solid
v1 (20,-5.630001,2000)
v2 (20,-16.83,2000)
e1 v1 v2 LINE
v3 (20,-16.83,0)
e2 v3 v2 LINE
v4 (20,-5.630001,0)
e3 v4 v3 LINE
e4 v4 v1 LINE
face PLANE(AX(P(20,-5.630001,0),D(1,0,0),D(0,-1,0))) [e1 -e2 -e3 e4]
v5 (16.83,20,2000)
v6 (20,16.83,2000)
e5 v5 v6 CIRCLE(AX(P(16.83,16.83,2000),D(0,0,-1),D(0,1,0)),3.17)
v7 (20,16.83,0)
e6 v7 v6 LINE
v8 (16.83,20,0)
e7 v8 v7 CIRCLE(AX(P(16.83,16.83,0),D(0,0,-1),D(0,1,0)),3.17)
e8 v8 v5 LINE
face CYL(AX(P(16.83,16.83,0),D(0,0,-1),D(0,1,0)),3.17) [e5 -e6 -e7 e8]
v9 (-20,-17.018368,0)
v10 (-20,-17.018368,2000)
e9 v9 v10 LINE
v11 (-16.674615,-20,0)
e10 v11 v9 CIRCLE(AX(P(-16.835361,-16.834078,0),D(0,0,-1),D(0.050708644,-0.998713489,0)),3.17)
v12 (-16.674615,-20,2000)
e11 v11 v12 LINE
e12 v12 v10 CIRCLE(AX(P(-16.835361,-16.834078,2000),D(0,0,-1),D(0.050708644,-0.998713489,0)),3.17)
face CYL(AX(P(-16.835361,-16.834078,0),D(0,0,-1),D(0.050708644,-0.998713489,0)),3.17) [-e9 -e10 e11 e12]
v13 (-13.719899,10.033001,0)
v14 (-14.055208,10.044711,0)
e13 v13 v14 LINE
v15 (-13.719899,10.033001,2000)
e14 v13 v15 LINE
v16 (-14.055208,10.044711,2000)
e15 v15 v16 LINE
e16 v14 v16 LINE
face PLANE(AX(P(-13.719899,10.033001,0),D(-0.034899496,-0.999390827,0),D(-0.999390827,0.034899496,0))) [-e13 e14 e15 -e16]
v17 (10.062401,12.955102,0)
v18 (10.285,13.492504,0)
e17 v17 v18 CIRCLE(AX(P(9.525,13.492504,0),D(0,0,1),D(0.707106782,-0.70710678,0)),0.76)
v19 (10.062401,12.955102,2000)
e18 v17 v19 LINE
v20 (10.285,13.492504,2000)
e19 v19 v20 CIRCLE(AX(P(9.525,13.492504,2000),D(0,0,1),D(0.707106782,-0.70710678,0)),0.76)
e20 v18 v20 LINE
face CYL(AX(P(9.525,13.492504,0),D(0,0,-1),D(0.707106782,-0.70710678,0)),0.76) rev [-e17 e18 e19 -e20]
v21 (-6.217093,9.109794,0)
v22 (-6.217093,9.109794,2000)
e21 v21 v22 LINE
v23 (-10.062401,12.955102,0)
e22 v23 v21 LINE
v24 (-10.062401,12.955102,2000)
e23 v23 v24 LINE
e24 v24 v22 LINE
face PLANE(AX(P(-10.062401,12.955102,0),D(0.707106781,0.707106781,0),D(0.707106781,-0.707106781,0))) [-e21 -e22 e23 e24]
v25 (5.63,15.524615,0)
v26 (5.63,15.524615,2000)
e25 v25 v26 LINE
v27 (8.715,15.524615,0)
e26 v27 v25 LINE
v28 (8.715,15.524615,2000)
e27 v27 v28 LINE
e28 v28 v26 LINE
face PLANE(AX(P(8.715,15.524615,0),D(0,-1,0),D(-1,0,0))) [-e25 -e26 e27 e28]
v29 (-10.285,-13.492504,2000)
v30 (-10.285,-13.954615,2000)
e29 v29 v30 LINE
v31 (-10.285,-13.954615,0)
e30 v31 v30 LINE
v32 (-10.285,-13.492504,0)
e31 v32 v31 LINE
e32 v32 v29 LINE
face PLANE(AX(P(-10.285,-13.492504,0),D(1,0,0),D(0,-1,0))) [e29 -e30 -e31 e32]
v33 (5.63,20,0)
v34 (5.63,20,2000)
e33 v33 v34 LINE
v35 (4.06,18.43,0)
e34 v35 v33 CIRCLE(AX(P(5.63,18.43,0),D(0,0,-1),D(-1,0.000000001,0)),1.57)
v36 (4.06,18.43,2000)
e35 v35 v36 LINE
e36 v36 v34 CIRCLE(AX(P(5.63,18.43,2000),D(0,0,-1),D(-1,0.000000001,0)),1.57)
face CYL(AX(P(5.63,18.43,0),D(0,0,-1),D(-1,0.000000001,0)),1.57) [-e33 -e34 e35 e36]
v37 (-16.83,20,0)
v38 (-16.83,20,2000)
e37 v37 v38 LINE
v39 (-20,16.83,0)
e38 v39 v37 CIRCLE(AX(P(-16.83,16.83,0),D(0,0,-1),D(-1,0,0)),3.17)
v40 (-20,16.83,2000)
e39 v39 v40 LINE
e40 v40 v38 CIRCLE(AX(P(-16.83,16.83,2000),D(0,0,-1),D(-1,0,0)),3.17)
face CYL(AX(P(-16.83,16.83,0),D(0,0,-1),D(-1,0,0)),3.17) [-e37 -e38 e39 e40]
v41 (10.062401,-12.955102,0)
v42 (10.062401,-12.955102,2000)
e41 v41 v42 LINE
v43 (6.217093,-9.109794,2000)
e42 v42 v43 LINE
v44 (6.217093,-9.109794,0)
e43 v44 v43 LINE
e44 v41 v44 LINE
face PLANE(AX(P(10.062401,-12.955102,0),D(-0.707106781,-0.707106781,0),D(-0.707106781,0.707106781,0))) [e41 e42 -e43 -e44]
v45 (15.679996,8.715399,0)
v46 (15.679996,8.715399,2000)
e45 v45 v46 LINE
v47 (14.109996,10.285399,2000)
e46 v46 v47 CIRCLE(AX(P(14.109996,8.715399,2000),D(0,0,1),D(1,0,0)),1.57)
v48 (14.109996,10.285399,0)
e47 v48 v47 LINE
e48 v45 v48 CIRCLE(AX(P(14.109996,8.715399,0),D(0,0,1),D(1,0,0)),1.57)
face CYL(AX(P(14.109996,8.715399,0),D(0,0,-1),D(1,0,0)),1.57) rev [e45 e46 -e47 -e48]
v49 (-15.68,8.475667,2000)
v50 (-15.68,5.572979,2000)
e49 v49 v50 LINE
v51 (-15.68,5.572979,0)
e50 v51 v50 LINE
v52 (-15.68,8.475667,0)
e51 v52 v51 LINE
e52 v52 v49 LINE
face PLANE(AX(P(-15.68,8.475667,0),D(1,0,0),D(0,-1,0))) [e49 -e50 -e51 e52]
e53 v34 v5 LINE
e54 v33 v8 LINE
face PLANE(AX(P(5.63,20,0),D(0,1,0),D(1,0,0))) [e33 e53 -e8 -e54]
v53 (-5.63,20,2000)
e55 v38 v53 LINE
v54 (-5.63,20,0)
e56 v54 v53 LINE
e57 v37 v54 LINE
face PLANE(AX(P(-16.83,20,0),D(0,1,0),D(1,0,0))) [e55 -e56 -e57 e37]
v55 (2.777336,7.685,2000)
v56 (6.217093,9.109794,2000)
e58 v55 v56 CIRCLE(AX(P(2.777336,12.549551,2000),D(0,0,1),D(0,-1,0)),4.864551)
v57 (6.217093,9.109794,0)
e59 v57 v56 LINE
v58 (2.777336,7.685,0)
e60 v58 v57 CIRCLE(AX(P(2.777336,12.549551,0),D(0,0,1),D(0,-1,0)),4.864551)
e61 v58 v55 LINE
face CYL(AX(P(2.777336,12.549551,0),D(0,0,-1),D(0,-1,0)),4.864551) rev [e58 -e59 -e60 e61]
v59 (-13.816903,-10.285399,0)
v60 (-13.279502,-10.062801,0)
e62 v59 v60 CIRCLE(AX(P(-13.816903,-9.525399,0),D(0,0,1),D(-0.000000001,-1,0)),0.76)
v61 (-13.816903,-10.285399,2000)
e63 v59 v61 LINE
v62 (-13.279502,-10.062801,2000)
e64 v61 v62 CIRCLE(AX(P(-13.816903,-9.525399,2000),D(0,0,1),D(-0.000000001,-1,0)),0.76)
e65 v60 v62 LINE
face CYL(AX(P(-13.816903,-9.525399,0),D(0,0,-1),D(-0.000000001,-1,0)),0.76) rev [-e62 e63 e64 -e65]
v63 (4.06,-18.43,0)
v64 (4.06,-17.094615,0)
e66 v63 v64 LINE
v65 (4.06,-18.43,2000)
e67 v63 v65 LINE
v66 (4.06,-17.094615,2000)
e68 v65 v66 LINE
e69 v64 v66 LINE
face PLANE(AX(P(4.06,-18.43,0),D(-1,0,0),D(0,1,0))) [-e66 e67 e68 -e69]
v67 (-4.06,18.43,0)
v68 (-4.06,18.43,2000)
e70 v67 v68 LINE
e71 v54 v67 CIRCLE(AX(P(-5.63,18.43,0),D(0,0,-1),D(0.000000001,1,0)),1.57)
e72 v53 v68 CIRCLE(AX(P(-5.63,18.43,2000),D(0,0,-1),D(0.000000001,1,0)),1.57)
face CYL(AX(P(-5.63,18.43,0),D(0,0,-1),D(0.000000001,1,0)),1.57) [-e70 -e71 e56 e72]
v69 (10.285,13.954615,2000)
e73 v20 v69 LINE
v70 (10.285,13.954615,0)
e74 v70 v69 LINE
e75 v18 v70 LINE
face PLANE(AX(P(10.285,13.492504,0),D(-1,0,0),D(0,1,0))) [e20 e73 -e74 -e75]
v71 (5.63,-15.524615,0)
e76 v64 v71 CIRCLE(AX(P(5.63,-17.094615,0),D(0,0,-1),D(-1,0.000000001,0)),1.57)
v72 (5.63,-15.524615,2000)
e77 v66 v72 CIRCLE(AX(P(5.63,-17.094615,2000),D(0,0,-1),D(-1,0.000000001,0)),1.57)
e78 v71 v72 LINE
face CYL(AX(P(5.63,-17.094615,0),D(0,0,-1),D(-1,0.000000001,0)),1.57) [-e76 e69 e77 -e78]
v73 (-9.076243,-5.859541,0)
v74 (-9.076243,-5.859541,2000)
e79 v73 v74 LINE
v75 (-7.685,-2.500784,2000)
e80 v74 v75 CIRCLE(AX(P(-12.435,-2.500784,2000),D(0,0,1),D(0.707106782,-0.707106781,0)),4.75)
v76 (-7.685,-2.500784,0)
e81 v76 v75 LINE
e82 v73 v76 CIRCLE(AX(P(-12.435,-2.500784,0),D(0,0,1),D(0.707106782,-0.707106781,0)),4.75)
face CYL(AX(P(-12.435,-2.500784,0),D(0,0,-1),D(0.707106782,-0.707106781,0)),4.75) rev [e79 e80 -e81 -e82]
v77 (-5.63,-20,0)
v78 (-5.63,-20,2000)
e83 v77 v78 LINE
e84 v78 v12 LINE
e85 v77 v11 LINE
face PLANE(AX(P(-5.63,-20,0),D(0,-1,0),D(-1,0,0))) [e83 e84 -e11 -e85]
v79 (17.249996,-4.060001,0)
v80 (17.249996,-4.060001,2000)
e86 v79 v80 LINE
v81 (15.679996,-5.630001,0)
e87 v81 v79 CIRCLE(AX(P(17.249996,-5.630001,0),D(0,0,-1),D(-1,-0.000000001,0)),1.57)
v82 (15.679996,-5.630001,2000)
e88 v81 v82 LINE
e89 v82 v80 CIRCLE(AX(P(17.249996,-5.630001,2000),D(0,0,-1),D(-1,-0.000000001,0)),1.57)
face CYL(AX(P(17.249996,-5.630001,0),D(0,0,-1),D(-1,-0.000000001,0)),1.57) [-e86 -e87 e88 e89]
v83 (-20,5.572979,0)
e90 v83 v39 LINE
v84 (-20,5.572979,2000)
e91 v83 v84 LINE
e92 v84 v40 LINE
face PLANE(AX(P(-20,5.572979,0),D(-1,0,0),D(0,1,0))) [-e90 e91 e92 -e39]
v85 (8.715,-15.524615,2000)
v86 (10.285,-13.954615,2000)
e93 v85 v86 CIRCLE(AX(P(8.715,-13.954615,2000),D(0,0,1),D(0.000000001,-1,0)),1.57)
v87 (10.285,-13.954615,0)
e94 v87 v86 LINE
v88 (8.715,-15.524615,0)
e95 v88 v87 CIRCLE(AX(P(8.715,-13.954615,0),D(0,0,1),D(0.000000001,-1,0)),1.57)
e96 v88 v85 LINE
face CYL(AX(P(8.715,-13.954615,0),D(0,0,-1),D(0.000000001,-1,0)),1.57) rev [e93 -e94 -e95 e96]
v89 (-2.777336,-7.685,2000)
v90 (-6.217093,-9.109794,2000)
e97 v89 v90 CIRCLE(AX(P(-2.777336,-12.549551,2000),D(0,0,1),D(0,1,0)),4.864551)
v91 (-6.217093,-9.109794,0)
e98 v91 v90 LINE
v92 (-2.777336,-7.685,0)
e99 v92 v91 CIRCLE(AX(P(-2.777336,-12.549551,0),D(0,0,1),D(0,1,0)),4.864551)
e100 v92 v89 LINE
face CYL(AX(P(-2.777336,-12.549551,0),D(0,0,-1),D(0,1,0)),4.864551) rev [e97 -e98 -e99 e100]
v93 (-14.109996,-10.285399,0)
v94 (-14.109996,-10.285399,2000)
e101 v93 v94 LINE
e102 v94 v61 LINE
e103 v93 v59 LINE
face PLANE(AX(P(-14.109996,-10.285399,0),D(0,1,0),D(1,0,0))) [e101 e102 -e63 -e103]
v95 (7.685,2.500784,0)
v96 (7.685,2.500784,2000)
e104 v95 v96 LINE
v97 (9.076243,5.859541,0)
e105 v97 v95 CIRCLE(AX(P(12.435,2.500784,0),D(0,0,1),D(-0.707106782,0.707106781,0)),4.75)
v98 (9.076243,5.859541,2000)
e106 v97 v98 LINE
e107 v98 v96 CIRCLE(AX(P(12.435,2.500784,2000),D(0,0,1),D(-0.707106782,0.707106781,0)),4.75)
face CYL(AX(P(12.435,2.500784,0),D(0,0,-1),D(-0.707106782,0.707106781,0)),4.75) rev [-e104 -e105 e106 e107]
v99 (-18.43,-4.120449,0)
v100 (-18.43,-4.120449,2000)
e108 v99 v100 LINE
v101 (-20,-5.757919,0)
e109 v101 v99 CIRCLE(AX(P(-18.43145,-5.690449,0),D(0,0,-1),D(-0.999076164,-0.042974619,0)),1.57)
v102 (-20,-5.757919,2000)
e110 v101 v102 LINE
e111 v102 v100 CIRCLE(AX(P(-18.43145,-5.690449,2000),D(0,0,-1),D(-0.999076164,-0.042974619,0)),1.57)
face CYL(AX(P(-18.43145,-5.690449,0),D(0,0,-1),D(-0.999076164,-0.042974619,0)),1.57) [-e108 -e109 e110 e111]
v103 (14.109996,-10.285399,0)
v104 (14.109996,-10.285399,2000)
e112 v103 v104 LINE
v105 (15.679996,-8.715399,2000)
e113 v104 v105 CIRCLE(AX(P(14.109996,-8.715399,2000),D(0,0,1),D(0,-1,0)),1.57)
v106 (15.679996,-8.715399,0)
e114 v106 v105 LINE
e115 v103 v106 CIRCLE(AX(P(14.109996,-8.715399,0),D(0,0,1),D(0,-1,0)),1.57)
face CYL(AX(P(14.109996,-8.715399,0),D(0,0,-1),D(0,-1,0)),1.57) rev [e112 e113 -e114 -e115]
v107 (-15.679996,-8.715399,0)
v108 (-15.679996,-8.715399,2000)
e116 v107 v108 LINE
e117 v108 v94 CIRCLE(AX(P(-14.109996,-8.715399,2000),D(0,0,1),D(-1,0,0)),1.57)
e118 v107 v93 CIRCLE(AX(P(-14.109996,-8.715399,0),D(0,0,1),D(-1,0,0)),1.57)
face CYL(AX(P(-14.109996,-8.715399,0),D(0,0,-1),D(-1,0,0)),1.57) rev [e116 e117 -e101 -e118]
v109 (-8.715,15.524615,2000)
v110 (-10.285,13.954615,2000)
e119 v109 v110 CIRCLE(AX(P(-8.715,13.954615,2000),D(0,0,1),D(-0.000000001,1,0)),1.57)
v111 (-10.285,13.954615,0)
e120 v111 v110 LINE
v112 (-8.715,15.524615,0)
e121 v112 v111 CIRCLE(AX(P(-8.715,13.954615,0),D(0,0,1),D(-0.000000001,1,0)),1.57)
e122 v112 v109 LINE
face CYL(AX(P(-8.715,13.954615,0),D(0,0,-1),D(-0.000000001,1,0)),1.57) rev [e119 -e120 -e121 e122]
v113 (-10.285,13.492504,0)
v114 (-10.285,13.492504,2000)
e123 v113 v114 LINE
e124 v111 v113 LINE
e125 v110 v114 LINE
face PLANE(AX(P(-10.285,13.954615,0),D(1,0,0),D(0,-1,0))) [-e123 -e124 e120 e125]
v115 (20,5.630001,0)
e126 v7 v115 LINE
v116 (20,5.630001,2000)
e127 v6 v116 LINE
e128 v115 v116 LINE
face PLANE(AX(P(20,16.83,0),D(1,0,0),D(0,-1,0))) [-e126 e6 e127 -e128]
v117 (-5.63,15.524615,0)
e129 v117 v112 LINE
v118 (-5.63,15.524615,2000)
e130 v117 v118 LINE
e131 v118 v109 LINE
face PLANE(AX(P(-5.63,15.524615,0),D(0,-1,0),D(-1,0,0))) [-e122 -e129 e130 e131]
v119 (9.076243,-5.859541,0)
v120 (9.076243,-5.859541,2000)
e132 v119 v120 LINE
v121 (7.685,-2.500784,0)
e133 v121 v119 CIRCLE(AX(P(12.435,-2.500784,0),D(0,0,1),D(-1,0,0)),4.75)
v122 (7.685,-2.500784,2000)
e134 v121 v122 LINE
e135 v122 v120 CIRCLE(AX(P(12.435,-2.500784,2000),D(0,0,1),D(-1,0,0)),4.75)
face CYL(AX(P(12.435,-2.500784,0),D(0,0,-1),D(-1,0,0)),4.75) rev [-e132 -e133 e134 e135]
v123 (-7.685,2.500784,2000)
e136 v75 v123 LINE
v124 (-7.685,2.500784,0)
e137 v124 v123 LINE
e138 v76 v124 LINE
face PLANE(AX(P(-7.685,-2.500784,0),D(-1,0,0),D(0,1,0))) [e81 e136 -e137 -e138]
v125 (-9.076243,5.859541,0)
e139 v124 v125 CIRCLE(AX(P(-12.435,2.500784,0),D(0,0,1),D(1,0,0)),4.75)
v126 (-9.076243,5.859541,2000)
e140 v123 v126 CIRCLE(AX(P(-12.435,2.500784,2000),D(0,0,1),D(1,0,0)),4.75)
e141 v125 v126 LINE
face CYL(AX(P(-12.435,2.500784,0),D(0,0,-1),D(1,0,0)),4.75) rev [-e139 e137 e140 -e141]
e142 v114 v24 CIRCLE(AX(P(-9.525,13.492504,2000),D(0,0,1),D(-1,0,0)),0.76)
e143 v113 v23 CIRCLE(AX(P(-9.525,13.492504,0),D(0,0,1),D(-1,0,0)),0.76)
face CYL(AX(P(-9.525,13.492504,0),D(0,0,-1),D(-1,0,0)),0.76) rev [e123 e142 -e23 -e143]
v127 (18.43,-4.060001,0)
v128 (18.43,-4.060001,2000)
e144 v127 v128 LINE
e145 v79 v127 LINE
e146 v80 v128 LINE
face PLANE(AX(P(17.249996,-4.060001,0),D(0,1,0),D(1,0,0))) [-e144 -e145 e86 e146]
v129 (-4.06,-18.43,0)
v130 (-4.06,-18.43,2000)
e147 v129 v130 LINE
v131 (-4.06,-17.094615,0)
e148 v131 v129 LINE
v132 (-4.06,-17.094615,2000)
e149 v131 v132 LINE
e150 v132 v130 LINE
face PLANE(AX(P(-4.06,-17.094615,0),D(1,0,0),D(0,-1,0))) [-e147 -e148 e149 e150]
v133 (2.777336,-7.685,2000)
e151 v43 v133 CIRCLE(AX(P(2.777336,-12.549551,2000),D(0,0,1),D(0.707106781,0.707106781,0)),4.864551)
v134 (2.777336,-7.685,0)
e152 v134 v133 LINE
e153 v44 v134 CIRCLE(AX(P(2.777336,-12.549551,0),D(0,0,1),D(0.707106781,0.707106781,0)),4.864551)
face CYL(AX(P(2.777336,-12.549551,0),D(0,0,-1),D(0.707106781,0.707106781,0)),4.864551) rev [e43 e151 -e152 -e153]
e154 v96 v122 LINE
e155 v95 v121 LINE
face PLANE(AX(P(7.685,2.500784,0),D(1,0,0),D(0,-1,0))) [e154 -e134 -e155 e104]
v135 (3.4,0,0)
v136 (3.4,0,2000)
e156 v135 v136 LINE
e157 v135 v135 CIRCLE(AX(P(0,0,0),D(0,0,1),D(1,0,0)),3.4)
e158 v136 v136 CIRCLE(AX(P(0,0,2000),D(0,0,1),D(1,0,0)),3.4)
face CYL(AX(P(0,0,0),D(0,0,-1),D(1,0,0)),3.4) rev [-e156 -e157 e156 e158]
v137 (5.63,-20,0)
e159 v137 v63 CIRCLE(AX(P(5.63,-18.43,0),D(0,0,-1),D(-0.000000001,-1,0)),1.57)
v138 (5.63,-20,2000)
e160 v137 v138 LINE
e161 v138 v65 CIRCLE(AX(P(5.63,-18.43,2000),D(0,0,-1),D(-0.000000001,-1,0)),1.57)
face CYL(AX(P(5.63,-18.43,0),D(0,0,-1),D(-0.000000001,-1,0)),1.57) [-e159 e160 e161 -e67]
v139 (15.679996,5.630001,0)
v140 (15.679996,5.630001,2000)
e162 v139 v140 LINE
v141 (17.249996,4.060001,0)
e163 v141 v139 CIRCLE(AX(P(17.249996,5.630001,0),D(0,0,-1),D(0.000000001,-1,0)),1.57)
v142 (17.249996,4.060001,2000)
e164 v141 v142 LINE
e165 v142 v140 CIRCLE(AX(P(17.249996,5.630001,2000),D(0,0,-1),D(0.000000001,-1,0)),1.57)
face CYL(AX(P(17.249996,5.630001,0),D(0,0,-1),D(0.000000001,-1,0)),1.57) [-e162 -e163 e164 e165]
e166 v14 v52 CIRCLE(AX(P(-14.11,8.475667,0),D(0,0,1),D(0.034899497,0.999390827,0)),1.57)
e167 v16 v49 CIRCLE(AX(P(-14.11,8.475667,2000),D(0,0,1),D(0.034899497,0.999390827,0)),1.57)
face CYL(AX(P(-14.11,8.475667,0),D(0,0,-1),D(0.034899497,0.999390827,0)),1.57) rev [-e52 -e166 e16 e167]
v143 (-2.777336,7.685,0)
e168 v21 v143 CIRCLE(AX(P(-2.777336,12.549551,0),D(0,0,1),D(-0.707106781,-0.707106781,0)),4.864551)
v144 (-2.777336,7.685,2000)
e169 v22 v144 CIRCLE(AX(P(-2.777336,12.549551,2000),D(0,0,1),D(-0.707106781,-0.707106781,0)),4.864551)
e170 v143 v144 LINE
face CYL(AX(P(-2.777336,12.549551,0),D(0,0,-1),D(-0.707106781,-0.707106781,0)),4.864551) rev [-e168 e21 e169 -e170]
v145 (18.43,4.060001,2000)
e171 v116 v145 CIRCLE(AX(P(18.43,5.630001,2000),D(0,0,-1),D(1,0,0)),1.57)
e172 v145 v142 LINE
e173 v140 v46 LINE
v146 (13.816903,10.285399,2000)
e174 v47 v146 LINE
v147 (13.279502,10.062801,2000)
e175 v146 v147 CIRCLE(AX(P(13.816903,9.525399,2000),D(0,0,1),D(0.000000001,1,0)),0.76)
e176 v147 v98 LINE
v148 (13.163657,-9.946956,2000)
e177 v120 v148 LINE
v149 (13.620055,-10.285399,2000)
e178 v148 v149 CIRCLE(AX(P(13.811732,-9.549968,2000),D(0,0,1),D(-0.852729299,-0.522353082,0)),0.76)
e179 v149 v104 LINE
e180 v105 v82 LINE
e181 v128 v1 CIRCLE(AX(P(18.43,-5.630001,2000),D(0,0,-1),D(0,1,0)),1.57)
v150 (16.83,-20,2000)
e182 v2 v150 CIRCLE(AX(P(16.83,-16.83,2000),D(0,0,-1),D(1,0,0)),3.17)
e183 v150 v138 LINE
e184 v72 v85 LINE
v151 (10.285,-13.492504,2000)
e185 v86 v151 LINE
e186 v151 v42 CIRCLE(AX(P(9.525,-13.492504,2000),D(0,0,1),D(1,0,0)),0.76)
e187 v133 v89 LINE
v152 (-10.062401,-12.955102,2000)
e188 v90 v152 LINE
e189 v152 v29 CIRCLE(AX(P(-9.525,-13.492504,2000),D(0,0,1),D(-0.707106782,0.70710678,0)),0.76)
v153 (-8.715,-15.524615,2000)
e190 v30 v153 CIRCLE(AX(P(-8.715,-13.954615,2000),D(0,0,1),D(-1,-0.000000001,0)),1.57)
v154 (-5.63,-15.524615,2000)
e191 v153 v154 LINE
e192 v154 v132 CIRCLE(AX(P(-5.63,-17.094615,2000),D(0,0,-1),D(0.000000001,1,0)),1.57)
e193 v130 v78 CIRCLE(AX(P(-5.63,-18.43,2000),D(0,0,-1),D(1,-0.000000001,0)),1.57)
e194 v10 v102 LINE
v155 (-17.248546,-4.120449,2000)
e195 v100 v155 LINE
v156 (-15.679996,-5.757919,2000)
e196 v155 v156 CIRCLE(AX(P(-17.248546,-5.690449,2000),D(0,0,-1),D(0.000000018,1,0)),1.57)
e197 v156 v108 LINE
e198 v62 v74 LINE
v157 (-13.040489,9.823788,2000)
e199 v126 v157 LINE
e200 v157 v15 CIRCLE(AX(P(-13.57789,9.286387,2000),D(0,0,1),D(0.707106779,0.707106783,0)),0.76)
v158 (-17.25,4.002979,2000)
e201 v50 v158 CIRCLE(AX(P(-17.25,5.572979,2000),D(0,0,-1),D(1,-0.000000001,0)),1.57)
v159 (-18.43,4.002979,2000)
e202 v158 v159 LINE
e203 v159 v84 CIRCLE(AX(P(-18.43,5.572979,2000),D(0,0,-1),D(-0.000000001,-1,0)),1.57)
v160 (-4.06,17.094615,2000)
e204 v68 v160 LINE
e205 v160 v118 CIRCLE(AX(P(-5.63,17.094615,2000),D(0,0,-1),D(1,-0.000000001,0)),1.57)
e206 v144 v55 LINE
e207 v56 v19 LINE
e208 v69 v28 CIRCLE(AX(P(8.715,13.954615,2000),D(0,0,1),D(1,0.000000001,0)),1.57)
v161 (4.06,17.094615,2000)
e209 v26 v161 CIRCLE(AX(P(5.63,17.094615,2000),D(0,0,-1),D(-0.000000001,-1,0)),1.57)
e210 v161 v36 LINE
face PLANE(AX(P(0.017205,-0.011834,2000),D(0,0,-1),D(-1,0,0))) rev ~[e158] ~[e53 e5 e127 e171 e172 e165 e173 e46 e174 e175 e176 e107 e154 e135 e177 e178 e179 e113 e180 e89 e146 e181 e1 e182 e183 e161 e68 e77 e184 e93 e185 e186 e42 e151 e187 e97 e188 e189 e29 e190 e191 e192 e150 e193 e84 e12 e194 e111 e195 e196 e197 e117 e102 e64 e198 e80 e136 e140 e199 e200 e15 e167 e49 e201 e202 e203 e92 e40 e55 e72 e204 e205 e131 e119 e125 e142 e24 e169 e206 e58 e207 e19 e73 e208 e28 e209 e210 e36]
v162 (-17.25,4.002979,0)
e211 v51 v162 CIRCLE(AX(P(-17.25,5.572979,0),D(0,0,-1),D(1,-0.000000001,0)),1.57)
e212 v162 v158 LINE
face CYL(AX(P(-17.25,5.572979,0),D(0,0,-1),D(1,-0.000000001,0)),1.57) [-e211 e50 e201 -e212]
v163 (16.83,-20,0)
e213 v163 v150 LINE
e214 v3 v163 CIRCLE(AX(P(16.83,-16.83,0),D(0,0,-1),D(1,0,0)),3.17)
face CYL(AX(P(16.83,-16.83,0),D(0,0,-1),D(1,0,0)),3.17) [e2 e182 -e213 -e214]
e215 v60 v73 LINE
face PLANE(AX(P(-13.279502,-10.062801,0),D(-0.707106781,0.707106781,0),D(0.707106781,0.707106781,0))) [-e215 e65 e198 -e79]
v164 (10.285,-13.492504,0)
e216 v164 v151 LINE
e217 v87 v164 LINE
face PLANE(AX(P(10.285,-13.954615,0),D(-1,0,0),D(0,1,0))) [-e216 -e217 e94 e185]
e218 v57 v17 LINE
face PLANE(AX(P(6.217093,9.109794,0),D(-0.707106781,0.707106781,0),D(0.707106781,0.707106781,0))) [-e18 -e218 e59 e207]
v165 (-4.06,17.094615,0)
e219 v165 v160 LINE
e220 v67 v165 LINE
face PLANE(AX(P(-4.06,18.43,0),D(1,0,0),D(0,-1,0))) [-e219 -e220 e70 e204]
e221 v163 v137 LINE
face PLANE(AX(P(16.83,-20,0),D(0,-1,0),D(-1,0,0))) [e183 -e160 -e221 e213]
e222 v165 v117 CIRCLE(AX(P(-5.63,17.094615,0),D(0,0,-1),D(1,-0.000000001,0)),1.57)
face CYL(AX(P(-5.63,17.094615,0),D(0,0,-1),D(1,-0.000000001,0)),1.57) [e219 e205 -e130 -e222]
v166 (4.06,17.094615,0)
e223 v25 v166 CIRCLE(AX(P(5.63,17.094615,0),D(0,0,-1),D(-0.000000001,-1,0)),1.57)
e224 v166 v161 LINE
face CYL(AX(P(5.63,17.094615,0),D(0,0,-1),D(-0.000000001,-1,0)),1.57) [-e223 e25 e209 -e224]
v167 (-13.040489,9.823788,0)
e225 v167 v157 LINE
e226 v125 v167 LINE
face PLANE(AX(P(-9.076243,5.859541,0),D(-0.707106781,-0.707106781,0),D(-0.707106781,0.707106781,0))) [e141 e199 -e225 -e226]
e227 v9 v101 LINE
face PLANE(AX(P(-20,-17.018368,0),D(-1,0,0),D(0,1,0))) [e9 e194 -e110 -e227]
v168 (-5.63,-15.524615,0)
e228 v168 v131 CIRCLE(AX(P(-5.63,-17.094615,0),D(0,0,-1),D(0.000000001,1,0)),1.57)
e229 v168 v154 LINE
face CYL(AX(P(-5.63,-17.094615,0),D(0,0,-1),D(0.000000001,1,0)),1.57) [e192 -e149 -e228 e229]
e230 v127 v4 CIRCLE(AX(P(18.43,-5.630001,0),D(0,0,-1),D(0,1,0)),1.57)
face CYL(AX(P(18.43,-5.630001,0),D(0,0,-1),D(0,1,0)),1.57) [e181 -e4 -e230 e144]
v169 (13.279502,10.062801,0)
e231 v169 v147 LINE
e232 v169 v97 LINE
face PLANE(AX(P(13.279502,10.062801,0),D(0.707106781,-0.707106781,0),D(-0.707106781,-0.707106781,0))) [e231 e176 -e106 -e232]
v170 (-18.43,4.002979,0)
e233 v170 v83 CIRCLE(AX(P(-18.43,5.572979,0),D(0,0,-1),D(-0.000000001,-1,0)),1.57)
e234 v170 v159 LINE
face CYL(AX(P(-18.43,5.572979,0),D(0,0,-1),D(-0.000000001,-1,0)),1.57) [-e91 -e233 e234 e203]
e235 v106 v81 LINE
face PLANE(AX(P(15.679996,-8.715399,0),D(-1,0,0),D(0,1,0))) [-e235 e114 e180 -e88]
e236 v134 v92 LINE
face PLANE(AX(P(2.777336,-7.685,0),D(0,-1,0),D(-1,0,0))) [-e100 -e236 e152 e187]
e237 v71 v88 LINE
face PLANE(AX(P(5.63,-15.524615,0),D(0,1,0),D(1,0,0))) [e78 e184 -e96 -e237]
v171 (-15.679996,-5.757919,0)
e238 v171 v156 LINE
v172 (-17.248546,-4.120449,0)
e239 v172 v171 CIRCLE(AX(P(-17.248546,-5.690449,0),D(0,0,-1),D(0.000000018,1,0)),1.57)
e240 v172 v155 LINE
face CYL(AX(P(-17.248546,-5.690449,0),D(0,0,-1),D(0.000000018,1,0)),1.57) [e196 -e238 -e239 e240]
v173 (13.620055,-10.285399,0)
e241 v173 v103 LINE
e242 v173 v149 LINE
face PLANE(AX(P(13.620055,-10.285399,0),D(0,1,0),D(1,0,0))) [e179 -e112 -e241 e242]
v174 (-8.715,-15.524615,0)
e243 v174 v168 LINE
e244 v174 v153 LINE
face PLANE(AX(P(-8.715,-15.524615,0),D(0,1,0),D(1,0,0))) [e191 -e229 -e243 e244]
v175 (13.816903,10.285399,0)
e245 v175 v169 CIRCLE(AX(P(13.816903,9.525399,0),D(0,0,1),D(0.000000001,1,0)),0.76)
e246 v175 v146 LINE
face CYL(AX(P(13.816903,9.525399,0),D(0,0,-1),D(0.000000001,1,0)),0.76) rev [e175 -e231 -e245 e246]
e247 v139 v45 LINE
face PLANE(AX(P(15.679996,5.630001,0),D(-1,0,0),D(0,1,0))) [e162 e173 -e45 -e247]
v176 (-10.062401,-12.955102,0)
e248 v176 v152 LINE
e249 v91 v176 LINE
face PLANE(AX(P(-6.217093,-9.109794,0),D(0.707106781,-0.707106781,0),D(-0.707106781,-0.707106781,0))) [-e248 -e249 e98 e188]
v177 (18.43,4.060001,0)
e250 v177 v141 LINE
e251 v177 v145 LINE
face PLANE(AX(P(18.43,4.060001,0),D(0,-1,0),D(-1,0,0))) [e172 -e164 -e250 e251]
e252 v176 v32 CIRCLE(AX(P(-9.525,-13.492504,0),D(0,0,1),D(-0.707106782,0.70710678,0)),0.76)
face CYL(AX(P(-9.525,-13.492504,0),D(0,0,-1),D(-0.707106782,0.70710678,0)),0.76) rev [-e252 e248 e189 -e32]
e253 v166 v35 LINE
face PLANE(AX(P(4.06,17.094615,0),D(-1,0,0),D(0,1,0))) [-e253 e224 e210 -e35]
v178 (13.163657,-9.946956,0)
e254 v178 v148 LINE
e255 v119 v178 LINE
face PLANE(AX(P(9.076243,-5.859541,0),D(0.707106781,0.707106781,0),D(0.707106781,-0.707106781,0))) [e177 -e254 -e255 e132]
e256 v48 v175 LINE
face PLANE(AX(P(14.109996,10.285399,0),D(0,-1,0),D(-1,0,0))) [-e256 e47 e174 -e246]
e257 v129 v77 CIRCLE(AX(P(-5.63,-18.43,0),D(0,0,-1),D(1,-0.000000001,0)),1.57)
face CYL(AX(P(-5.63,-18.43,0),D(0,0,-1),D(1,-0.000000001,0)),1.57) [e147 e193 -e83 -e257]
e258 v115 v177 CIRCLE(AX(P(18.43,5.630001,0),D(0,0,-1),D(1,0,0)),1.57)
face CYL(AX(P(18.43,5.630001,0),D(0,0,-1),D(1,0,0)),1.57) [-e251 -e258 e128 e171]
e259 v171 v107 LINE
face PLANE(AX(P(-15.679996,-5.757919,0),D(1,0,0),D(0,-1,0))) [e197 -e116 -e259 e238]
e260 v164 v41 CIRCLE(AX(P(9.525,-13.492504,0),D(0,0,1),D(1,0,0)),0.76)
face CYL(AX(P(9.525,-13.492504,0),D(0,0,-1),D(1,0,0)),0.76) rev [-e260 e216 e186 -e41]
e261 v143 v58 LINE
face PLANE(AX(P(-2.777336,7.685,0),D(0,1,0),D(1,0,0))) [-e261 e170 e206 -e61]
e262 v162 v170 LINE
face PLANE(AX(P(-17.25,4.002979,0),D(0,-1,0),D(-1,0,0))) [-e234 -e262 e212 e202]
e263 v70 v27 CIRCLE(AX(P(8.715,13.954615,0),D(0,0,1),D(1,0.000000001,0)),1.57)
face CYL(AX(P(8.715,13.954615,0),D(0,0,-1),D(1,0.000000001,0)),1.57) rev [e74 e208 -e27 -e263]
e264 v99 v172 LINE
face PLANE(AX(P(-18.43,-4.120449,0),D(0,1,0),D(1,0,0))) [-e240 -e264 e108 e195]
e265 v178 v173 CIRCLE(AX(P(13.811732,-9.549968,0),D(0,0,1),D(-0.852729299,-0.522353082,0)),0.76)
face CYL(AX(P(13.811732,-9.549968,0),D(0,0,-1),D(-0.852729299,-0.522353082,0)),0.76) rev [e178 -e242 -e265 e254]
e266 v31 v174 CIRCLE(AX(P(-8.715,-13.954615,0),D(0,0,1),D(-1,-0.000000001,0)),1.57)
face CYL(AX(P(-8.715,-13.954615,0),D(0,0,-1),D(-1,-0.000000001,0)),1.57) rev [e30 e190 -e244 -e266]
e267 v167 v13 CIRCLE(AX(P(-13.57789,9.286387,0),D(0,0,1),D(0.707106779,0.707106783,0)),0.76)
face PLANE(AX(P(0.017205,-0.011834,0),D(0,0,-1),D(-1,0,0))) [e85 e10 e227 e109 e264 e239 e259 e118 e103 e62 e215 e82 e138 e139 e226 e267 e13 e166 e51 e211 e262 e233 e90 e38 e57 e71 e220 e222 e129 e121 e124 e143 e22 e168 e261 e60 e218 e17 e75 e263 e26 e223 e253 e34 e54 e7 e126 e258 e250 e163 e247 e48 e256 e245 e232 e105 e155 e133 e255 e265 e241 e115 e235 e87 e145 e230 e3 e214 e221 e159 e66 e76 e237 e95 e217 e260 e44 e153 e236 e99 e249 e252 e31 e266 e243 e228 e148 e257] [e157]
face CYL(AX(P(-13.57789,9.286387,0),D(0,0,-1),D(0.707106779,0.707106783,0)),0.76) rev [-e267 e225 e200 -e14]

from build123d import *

# Parameters (mm, degrees)
SKETCH1_R           = 3.4
BOSS_EXTRUDE1_DEPTH = 2000


with BuildPart() as part:
    # Sketch1 → Boss-Extrude1 (new body)
    with BuildSketch(Plane.XY):
        with BuildLine():
            Line((-8.715, -15.524615034), (-5.63, -15.524615034))
            ThreePointArc((-5.63, -15.524615034), (-4.519842354, -15.984457388), (-4.06, -17.094615034))
            Line((-4.06, -17.094615034), (-4.06, -18.43))
            ThreePointArc((-4.06, -18.43), (-4.519842354, -19.540157646), (-5.63, -20))
            Line((-5.63, -20), (-16.674615034, -20))
            ThreePointArc((-16.674615034, -20), (-18.951578385, -19.194274381), (-20, -17.018368134))
            Line((-20, -17.018368134), (-20, -5.757918808))
            ThreePointArc((-20, -5.757918808), (-19.564709668, -4.603883664), (-18.43, -4.120449326))
            Line((-18.43, -4.120449326), (-17.248545805, -4.120449326))
            ThreePointArc((-17.248545805, -4.120449326), (-16.114784845, -4.604407881), (-15.67999625, -5.757919334))
            Line((-15.67999625, -5.757919334), (-15.67999625, -8.715399492))
            ThreePointArc((-15.67999625, -8.715399492), (-15.220153896, -9.825557139), (-14.10999625, -10.285399492))
            Line((-14.10999625, -10.285399492), (-13.816903094, -10.285399492))
            ThreePointArc((-13.816903094, -10.285399492), (-13.526063686, -10.227547937), (-13.279501941, -10.062800646))
            Line((-13.279501941, -10.062800646), (-9.076242789, -5.859541495))
            ThreePointArc((-9.076242789, -5.859541495), (-8.046572221, -4.318530588), (-7.685, -2.500784284))
            Line((-7.685, -2.500784284), (-7.685, 2.500784284))
            ThreePointArc((-7.685, 2.500784284), (-8.046572221, 4.318530588), (-9.076242789, 5.859541495))
            Line((-9.076242789, 5.859541495), (-13.040489136, 9.823787841))
            ThreePointArc((-13.040489136, 9.823787841), (-13.354224618, 10.012729352), (-13.71989919, 10.033001362))
            Line((-13.71989919, 10.033001362), (-14.05520779, 10.044710596))
            ThreePointArc((-14.05520779, 10.044710596), (-15.200613642, 9.605030484), (-15.68, 8.475666998))
            Line((-15.68, 8.475666998), (-15.68, 5.572979049))
            ThreePointArc((-15.68, 5.572979049), (-16.139842354, 4.462821403), (-17.25, 4.002979049))
            Line((-17.25, 4.002979049), (-18.43, 4.002979049))
            ThreePointArc((-18.43, 4.002979049), (-19.540157646, 4.462821403), (-20, 5.572979049))
            Line((-20, 5.572979049), (-20, 13.004526564))
            Line((-20, 13.004526564), (-20, 16.83))
            ThreePointArc((-20, 16.83), (-19.071528496, 19.071528496), (-16.83, 20))
            Line((-16.83, 20), (-5.63, 20))
            ThreePointArc((-5.63, 20), (-4.519842354, 19.540157646), (-4.06, 18.43))
            Line((-4.06, 18.43), (-4.06, 17.094615034))
            ThreePointArc((-4.06, 17.094615034), (-4.519842354, 15.984457388), (-5.63, 15.524615034))
            Line((-5.63, 15.524615034), (-8.715, 15.524615034))
            ThreePointArc((-8.715, 15.524615034), (-9.825157646, 15.06477268), (-10.285, 13.954615034))
            Line((-10.285, 13.954615034), (-10.285, 13.492503602))
            ThreePointArc((-10.285, 13.492503602), (-10.227148445, 13.201664194), (-10.062401154, 12.955102448))
            Line((-10.062401154, 12.955102448), (-6.217092793, 9.109794088))
            ThreePointArc((-6.217092793, 9.109794088), (-4.63891877, 8.055291919), (-2.777335583, 7.685))
            Line((-2.777335583, 7.685), (2.777335583, 7.685))
            ThreePointArc((2.777335583, 7.685), (4.63891877, 8.055291919), (6.217092793, 9.109794088))
            Line((6.217092793, 9.109794088), (10.062401154, 12.955102448))
            ThreePointArc((10.062401154, 12.955102448), (10.227148445, 13.201664194), (10.285, 13.492503602))
            Line((10.285, 13.492503602), (10.285, 13.954615034))
            ThreePointArc((10.285, 13.954615034), (9.825157646, 15.06477268), (8.715, 15.524615034))
            Line((8.715, 15.524615034), (5.63, 15.524615034))
            ThreePointArc((5.63, 15.524615034), (4.519842354, 15.984457388), (4.06, 17.094615034))
            Line((4.06, 17.094615034), (4.06, 18.43))
            ThreePointArc((4.06, 18.43), (4.519842354, 19.540157646), (5.63, 20))
            Line((5.63, 20), (12.979635074, 20))
            Line((12.979635074, 20), (16.83, 20))
            ThreePointArc((16.83, 20), (19.071528496, 19.071528496), (20, 16.83))
            Line((20, 16.83), (20, 13.001098436))
            Line((20, 13.001098436), (20, 5.630000526))
            ThreePointArc((20, 5.630000526), (19.540157646, 4.519842879), (18.43, 4.060000526))
            Line((18.43, 4.060000526), (17.24999625, 4.060000526))
            ThreePointArc((17.24999625, 4.060000526), (16.139838603, 4.519842879), (15.67999625, 5.630000526))
            Line((15.67999625, 5.630000526), (15.67999625, 8.715399492))
            ThreePointArc((15.67999625, 8.715399492), (15.220153896, 9.825557139), (14.10999625, 10.285399492))
            Line((14.10999625, 10.285399492), (13.816903094, 10.285399492))
            ThreePointArc((13.816903094, 10.285399492), (13.526063686, 10.227547937), (13.279501941, 10.062800646))
            Line((13.279501941, 10.062800646), (9.076242789, 5.859541495))
            ThreePointArc((9.076242789, 5.859541495), (8.046572221, 4.318530588), (7.685, 2.500784284))
            Line((7.685, 2.500784284), (7.685, -2.500784284))
            ThreePointArc((7.685, -2.500784284), (8.046572221, -4.318530588), (9.076242789, -5.859541495))
            Line((9.076242789, -5.859541495), (13.163657296, -9.946956002))
            ThreePointArc((13.163657296, -9.946956002), (13.35903797, -10.160433474), (13.6200547, -10.285399492))
            Line((13.6200547, -10.285399492), (14.10999625, -10.285399492))
            ThreePointArc((14.10999625, -10.285399492), (15.220153896, -9.825557139), (15.67999625, -8.715399492))
            Line((15.67999625, -8.715399492), (15.67999625, -5.630000526))
            ThreePointArc((15.67999625, -5.630000526), (16.139838603, -4.519842879), (17.24999625, -4.060000526))
            Line((17.24999625, -4.060000526), (18.43, -4.060000526))
            ThreePointArc((18.43, -4.060000526), (19.540157646, -4.519842879), (20, -5.630000526))
            Line((20, -5.630000526), (20, -16.83))
            ThreePointArc((20, -16.83), (19.071528496, -19.071528496), (16.83, -20))
            Line((16.83, -20), (13, -20))
            Line((13, -20), (5.63, -20))
            ThreePointArc((5.63, -20), (4.519842354, -19.540157646), (4.06, -18.43))
            Line((4.06, -18.43), (4.06, -17.094615034))
            ThreePointArc((4.06, -17.094615034), (4.519842354, -15.984457388), (5.63, -15.524615034))
            Line((5.63, -15.524615034), (8.715, -15.524615034))
            ThreePointArc((8.715, -15.524615034), (9.825157646, -15.06477268), (10.285, -13.954615034))
            Line((10.285, -13.954615034), (10.285, -13.492503602))
            ThreePointArc((10.285, -13.492503602), (10.227148445, -13.201664194), (10.062401154, -12.955102448))
            Line((10.062401154, -12.955102448), (6.217092793, -9.109794088))
            ThreePointArc((6.217092793, -9.109794088), (4.63891877, -8.055291919), (2.777335583, -7.685))
            Line((2.777335583, -7.685), (-2.777335583, -7.685))
            ThreePointArc((-2.777335583, -7.685), (-4.63891877, -8.055291919), (-6.217092793, -9.109794088))
            Line((-6.217092793, -9.109794088), (-10.062401154, -12.955102448))
            ThreePointArc((-10.062401154, -12.955102448), (-10.227148445, -13.201664194), (-10.285, -13.492503602))
            Line((-10.285, -13.492503602), (-10.285, -13.954615034))
            ThreePointArc((-10.285, -13.954615034), (-9.825157646, -15.06477268), (-8.715, -15.524615034))
        make_face()
        Circle(SKETCH1_R, mode=Mode.SUBTRACT)
    extrude(amount=BOSS_EXTRUDE1_DEPTH)


solid = part.part
